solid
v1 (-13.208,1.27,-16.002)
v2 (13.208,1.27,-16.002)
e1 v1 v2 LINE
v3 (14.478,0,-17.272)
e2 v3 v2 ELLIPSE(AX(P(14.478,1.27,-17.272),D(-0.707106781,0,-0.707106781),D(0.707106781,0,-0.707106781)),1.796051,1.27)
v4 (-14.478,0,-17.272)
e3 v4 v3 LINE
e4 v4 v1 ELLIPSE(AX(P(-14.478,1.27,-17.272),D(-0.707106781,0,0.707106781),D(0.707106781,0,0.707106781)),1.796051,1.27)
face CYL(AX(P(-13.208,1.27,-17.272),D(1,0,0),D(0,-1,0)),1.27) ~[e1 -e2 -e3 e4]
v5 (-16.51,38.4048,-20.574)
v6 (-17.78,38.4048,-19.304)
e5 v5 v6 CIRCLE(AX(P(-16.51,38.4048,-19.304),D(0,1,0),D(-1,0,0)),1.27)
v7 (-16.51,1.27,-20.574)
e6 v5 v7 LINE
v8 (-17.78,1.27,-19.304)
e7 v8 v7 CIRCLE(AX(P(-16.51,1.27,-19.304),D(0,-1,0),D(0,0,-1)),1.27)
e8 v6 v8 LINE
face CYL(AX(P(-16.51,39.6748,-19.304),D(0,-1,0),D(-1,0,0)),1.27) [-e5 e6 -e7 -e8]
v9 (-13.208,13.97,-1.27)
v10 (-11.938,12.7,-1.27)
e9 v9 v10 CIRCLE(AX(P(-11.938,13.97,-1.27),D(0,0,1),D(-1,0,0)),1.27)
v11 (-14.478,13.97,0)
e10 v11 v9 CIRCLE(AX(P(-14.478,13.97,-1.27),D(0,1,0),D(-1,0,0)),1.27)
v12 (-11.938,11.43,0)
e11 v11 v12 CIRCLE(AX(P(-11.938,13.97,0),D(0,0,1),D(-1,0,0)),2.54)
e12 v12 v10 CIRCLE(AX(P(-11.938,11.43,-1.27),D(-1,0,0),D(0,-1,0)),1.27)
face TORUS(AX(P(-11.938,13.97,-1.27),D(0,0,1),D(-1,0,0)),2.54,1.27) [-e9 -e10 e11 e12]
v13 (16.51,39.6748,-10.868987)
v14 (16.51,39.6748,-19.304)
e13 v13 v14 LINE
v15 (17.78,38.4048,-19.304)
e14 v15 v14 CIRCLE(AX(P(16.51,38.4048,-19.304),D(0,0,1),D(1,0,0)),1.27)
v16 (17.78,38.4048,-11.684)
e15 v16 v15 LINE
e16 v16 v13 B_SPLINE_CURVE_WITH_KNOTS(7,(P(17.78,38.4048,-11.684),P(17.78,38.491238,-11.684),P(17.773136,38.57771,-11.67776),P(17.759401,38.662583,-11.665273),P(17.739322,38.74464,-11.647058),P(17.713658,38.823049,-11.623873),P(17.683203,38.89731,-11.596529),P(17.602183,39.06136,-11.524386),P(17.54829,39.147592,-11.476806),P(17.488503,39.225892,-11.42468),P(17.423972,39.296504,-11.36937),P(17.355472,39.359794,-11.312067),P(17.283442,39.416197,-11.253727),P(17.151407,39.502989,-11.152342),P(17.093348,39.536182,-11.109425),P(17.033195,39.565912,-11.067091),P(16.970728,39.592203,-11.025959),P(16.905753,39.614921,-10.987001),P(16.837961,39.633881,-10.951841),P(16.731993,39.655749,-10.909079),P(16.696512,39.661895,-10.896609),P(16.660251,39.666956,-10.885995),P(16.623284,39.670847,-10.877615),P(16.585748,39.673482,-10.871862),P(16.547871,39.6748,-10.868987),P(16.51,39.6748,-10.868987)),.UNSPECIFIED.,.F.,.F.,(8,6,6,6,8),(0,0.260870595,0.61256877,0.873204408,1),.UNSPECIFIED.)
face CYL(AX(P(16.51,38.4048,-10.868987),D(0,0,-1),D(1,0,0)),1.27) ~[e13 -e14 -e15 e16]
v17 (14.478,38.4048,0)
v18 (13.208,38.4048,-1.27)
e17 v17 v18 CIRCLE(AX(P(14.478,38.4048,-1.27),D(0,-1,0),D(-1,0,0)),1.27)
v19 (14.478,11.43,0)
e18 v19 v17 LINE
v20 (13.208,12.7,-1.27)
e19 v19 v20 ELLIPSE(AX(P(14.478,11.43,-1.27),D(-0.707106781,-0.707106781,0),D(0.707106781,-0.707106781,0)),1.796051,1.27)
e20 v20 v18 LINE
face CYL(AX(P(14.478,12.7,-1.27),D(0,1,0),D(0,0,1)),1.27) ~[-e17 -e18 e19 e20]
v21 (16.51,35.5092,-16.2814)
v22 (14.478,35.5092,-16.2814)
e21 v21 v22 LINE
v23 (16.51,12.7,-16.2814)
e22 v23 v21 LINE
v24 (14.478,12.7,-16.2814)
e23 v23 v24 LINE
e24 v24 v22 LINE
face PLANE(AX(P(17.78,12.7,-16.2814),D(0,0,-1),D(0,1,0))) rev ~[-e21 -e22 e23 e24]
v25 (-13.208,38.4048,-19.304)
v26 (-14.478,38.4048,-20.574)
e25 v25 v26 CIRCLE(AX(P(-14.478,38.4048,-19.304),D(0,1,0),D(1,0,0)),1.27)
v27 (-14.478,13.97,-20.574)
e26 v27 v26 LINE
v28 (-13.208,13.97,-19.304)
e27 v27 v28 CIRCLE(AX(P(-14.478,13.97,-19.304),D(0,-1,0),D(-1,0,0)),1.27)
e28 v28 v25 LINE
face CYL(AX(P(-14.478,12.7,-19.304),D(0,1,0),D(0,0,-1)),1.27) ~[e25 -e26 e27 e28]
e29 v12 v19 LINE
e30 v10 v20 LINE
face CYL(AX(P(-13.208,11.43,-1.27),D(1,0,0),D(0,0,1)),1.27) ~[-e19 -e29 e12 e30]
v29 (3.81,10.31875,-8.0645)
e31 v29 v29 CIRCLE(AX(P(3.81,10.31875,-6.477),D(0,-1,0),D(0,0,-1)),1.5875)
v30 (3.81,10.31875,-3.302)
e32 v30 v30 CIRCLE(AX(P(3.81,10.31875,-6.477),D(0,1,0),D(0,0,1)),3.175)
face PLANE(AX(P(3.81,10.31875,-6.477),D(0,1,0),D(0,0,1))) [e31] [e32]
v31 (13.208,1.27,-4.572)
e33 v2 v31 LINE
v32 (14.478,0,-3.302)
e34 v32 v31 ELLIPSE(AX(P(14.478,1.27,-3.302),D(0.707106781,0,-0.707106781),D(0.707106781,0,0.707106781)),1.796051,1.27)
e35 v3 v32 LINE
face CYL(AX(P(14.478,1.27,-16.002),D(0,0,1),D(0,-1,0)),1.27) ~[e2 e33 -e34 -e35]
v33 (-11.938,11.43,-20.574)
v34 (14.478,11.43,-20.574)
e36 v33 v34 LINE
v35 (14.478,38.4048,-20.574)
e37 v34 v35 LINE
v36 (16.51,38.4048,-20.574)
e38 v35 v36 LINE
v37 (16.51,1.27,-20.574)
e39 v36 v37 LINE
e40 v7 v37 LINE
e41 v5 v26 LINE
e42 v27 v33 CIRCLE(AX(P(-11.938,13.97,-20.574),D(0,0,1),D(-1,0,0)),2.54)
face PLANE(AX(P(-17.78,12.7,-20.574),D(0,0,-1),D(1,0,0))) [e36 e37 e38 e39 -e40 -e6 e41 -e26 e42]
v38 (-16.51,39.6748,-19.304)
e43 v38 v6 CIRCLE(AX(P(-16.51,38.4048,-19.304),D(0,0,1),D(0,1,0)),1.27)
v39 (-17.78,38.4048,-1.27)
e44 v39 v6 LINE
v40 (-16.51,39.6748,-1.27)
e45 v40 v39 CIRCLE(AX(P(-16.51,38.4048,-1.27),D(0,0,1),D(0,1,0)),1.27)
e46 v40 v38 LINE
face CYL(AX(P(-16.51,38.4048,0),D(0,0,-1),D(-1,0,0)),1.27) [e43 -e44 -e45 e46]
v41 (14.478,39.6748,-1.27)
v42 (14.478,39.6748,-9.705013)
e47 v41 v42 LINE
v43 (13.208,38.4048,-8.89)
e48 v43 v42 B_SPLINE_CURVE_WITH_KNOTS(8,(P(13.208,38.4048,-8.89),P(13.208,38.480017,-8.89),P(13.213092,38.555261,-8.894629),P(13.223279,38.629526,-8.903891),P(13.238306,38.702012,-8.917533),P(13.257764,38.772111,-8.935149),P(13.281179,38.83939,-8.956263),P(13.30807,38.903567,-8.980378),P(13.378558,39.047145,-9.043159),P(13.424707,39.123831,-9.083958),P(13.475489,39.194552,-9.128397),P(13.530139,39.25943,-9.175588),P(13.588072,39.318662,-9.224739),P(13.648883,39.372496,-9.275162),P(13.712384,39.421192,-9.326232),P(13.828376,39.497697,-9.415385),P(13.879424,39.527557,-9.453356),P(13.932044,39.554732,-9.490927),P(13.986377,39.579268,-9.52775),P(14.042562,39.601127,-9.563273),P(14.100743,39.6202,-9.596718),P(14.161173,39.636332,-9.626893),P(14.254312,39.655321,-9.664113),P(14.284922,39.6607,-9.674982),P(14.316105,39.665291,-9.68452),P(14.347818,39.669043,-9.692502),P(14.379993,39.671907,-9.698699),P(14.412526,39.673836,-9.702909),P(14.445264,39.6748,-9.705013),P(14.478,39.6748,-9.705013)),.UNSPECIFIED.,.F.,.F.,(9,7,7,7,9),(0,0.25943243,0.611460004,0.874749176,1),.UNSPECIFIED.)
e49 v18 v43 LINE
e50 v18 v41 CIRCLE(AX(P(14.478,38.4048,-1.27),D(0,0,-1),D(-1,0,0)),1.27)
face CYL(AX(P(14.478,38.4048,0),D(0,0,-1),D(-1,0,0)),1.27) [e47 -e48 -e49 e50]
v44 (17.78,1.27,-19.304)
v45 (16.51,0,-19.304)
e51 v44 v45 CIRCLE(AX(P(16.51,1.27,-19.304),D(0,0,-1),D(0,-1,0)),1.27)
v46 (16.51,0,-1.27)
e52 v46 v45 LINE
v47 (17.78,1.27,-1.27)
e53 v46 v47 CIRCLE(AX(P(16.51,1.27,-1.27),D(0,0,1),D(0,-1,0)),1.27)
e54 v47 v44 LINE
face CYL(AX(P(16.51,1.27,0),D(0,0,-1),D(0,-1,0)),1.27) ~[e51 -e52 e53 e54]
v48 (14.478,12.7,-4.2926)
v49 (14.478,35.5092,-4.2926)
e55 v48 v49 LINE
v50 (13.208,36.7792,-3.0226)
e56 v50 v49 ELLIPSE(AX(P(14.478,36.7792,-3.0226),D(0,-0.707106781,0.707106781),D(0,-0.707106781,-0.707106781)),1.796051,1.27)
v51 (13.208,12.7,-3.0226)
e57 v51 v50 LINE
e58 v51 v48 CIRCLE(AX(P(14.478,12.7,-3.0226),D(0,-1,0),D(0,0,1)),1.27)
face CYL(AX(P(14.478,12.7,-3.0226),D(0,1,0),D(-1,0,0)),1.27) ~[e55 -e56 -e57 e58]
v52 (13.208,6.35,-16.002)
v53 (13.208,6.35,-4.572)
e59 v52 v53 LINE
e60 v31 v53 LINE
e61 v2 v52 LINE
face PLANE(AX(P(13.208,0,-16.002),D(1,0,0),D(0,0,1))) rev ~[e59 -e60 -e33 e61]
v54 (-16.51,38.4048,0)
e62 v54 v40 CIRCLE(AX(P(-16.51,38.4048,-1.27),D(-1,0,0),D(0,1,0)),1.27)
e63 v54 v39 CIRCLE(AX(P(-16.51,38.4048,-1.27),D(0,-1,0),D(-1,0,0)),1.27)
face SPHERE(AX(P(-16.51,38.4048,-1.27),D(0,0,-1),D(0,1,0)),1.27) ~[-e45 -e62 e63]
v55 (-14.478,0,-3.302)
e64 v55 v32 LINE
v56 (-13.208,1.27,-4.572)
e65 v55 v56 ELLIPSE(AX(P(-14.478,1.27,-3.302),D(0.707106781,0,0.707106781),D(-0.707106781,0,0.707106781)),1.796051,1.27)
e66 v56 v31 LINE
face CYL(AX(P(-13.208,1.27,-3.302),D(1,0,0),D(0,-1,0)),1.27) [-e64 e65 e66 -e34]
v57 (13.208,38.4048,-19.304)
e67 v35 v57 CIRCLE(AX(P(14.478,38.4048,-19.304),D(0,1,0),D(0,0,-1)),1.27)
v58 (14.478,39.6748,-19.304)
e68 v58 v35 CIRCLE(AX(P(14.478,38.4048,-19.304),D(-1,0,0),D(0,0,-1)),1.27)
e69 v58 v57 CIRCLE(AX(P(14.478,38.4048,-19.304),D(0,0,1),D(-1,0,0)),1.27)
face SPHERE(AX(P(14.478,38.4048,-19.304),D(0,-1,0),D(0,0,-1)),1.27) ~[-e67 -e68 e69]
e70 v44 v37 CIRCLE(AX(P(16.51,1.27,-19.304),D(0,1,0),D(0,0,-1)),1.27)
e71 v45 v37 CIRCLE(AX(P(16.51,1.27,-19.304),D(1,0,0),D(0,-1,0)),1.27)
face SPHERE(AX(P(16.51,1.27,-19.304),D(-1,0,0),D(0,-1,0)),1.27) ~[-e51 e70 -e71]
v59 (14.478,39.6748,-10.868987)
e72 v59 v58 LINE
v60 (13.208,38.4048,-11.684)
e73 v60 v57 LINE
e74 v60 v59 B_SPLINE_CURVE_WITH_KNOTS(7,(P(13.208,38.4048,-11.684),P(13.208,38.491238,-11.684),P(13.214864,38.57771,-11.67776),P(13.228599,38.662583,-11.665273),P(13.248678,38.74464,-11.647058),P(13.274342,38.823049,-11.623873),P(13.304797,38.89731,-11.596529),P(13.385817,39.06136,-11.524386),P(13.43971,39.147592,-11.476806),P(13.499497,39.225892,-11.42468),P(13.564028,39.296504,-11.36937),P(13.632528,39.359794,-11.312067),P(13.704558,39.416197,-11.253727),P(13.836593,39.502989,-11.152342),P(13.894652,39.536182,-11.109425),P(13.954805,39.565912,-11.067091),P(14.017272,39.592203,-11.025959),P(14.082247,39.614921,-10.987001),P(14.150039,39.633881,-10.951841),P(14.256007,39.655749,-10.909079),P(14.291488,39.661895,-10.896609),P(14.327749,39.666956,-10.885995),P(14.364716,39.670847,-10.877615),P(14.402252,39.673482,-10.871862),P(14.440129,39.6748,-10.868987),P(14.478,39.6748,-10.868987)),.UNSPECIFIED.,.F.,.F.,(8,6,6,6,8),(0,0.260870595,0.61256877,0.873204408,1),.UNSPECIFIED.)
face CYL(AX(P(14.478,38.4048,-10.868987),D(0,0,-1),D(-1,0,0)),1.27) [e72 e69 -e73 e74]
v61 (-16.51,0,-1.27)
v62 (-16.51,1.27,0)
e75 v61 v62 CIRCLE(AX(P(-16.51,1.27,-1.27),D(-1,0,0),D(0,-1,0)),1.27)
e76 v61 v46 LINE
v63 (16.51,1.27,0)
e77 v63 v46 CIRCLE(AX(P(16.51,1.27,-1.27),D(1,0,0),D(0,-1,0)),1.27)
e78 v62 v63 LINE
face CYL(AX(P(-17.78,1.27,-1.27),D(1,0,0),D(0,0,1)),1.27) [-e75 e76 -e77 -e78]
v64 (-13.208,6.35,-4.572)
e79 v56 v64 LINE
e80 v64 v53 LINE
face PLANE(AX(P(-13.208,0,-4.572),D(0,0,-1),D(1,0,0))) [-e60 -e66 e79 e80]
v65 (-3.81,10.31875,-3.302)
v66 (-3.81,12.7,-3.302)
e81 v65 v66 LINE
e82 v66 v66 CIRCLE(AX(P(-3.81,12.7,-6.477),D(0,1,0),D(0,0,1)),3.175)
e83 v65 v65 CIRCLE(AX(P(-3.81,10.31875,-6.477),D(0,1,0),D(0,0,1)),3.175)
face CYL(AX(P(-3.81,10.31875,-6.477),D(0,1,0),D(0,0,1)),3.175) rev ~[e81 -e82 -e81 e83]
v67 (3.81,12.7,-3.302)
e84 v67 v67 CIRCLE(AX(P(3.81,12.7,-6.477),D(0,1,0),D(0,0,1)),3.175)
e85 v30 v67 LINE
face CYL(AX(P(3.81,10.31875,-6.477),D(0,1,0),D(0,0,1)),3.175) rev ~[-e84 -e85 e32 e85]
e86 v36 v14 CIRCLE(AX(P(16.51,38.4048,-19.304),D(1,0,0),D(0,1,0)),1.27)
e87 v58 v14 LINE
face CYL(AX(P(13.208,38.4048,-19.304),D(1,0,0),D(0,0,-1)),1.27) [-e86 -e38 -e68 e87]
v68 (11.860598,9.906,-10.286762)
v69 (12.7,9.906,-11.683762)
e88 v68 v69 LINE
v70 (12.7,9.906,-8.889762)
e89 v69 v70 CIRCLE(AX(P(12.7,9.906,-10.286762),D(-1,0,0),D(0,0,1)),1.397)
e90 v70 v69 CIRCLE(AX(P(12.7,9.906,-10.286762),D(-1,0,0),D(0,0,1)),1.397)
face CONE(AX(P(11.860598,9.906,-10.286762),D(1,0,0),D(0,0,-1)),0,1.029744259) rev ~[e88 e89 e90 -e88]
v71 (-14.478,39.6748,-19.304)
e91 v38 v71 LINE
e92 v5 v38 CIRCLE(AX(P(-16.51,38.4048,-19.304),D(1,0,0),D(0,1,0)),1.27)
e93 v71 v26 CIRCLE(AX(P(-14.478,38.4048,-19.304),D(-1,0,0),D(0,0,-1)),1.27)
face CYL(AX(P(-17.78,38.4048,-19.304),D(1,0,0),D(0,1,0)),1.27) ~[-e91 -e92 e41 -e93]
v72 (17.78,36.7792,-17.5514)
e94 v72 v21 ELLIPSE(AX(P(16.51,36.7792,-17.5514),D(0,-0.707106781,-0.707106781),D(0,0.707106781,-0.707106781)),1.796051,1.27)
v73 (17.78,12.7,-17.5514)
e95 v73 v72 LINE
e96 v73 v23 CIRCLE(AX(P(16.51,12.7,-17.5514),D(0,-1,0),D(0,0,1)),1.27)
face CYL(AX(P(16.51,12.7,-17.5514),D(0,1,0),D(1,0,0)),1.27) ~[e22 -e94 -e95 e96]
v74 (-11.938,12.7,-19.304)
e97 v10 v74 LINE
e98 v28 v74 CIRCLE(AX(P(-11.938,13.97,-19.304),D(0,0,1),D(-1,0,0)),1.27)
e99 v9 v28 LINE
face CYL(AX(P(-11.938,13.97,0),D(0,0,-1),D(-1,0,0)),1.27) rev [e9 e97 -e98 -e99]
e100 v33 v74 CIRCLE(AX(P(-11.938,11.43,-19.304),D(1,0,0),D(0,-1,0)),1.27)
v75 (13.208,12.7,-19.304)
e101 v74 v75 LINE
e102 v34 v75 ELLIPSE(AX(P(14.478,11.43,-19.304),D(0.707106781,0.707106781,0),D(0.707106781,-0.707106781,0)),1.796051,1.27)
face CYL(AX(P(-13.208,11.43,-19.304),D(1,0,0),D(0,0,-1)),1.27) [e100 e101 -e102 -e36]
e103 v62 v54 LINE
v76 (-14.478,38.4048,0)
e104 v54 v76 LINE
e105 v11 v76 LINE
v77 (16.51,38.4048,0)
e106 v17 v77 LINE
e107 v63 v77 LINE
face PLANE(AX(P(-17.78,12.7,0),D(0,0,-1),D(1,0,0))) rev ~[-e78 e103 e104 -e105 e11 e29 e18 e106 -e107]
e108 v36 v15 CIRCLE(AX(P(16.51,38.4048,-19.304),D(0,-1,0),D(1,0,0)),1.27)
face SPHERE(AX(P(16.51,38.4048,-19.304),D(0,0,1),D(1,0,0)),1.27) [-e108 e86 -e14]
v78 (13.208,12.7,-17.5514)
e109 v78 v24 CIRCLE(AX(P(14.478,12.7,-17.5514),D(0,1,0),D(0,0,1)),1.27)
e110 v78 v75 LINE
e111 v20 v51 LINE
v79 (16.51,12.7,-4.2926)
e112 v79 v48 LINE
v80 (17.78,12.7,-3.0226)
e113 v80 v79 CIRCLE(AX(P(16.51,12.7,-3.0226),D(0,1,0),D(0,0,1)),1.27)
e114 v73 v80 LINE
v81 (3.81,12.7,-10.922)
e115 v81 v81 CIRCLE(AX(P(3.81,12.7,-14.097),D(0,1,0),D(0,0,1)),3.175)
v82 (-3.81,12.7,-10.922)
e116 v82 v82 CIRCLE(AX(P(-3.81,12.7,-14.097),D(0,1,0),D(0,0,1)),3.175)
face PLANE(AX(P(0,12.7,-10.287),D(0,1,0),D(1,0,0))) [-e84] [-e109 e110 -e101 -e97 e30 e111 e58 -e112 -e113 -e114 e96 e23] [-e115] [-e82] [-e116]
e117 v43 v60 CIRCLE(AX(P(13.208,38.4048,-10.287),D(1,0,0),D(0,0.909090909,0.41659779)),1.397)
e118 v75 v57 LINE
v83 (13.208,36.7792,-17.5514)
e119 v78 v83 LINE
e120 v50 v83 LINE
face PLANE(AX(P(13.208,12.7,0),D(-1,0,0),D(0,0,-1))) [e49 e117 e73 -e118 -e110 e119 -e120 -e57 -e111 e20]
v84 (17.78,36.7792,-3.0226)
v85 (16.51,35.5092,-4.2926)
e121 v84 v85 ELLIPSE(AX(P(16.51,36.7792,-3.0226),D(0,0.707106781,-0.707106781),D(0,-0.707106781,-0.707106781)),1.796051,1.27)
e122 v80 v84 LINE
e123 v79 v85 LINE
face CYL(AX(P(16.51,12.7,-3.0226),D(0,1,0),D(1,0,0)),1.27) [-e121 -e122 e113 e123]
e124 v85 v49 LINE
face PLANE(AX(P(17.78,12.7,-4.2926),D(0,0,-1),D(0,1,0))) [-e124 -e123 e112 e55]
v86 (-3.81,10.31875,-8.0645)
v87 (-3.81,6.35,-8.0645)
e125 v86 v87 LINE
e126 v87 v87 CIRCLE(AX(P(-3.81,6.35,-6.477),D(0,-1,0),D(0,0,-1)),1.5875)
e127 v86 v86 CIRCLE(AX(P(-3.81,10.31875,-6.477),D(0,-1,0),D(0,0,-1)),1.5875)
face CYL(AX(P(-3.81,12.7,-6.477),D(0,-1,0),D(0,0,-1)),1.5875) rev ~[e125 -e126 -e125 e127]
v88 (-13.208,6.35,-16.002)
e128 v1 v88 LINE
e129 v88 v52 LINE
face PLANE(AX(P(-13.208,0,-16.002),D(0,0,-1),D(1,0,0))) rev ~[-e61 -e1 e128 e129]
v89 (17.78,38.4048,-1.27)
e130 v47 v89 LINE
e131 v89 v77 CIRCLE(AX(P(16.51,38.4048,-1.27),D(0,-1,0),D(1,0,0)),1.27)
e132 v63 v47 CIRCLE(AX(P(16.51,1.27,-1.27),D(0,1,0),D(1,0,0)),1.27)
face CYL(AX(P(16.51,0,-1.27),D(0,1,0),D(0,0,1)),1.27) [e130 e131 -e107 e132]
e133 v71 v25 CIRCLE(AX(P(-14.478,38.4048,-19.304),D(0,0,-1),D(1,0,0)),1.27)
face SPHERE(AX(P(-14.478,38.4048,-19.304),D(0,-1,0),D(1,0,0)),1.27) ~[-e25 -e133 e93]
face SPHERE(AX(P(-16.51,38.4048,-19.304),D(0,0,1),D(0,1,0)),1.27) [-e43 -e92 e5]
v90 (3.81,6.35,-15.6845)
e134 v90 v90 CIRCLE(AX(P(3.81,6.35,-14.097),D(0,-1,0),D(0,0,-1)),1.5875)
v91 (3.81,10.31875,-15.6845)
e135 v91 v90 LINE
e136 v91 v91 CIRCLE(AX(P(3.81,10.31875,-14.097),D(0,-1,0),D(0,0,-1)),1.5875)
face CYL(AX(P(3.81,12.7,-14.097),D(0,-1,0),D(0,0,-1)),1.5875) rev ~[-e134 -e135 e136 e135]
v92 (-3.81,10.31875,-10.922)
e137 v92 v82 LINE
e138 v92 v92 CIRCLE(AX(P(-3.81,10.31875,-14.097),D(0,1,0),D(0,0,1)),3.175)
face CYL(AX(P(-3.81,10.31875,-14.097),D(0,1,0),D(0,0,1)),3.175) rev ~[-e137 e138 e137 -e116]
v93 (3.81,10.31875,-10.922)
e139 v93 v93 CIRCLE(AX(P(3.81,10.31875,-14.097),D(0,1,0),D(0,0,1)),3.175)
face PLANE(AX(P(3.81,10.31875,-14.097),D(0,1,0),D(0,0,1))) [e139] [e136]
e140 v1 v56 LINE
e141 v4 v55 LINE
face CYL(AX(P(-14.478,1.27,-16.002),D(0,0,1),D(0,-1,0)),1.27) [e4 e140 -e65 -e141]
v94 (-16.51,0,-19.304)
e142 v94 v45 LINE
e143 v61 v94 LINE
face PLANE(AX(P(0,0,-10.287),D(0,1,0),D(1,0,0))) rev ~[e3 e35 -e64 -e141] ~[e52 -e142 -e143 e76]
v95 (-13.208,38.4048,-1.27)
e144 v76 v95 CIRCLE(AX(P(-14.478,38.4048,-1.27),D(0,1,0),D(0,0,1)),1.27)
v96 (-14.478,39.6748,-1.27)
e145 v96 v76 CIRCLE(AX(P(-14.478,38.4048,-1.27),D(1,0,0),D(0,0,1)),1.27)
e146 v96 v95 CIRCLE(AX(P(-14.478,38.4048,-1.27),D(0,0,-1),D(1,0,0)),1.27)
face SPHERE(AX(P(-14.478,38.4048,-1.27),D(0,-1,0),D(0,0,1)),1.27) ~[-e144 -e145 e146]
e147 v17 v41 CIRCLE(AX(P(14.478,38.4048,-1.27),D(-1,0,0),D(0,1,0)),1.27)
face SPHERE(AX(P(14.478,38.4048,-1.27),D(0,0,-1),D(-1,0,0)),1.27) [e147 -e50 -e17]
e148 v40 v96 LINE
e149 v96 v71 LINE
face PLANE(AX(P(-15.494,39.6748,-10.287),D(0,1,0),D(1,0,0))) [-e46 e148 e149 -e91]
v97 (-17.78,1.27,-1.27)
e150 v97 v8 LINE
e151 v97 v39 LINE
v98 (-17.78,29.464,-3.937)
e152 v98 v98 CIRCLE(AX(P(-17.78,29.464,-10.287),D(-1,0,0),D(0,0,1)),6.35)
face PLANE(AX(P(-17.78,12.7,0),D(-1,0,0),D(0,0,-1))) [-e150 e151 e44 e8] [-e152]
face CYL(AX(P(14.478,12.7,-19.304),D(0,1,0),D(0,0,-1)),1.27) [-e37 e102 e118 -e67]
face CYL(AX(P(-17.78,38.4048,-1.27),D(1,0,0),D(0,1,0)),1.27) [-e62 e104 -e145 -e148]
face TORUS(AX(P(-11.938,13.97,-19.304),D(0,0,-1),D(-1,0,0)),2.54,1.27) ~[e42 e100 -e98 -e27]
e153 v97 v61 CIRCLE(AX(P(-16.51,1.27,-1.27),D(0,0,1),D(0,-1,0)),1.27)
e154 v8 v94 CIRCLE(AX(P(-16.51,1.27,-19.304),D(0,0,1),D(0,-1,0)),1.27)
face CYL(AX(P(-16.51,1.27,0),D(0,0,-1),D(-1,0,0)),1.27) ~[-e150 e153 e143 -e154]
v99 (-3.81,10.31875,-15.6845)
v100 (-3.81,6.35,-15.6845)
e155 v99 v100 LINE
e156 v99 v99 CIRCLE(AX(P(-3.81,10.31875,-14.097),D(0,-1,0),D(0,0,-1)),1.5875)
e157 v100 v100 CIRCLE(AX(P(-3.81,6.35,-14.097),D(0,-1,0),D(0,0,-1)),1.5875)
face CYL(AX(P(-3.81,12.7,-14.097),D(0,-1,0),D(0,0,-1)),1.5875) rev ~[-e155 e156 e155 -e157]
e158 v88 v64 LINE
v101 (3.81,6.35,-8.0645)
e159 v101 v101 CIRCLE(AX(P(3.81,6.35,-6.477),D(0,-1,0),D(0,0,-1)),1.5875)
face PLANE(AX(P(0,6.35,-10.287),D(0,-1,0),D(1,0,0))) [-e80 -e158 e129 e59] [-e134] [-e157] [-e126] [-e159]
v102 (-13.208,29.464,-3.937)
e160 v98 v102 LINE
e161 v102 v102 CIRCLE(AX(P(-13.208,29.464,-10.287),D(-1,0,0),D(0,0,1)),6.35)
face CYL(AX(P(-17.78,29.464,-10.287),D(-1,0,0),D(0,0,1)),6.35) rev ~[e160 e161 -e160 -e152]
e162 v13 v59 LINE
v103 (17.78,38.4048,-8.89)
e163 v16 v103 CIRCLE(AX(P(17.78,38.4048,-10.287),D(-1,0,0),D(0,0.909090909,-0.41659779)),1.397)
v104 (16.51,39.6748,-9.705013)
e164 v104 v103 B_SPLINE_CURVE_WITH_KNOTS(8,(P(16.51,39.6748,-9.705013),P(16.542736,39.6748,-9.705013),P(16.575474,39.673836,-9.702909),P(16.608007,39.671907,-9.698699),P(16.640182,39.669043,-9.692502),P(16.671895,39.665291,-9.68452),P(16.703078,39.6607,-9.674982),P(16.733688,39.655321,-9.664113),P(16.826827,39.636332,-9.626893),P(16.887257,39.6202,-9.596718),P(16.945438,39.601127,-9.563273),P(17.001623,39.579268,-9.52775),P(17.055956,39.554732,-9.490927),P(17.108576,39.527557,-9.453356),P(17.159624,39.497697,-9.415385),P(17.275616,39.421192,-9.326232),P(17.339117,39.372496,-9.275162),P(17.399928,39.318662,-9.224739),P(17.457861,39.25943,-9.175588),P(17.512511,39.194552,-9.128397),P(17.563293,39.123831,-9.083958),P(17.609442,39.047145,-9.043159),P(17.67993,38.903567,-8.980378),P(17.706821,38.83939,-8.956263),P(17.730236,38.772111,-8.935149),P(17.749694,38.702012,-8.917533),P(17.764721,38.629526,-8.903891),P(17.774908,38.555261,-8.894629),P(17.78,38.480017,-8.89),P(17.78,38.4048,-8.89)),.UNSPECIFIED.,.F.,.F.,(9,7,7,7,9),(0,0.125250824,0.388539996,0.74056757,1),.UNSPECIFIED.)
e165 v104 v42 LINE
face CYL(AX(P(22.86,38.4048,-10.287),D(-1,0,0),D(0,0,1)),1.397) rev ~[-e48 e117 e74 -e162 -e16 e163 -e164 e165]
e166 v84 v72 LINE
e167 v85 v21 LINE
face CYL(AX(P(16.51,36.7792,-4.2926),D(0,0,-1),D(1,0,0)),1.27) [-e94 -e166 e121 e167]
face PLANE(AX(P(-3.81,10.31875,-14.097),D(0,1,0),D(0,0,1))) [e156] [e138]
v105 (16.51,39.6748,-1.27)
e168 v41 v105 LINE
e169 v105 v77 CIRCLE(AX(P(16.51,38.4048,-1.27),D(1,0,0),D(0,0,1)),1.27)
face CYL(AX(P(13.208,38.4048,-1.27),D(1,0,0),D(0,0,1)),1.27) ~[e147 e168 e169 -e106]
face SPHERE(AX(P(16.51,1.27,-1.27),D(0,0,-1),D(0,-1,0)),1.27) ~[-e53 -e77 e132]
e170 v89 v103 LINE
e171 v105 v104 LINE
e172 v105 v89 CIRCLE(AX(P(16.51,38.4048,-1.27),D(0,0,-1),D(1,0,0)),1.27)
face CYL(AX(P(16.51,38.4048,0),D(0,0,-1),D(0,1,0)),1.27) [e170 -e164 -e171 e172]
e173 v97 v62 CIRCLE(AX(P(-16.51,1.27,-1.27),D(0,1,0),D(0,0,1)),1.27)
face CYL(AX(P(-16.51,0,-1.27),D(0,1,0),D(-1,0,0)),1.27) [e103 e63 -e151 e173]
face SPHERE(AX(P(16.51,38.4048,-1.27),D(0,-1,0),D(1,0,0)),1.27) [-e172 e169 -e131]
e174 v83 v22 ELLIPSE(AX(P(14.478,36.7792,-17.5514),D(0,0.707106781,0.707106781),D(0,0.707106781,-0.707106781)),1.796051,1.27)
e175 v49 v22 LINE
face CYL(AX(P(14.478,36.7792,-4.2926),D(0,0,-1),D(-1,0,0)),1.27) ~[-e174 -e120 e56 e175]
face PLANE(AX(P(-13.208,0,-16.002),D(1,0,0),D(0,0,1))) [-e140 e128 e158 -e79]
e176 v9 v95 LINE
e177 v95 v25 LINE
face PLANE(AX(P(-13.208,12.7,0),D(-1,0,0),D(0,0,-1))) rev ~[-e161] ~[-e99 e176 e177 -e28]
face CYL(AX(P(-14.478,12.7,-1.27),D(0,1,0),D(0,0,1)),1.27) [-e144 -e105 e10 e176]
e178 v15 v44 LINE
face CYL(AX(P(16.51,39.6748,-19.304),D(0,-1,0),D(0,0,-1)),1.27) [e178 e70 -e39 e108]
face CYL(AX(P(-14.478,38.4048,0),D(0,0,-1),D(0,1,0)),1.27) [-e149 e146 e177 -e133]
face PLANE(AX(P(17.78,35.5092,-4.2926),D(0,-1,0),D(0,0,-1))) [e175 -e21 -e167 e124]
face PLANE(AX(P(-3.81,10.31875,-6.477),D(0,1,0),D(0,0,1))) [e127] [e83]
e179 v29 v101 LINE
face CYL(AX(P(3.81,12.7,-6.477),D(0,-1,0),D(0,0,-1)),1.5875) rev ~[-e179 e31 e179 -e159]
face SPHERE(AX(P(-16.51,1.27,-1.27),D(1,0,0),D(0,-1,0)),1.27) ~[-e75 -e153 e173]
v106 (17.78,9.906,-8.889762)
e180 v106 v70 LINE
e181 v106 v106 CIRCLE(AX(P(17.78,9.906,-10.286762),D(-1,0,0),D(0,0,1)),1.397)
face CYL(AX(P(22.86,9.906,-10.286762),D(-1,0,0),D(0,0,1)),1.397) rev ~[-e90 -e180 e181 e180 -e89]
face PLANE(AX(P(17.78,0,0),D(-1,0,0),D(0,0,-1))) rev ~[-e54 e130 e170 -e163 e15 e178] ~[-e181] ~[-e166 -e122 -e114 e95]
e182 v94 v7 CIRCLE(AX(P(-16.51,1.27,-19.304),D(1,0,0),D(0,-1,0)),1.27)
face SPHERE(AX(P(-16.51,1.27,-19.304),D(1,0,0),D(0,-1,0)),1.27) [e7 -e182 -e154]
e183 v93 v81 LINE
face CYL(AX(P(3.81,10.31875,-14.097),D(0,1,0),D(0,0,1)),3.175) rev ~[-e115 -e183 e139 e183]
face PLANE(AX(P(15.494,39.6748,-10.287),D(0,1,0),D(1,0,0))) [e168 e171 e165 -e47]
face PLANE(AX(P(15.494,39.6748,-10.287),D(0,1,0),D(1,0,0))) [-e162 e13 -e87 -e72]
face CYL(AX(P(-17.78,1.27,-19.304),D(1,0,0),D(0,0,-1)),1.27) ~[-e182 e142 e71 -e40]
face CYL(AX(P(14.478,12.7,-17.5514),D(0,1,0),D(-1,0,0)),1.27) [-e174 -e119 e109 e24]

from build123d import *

# Parameters (mm, degrees)
SKETCH1_W                                            = 35.56
SKETCH1_H                                            = 20.574
BOSS_EXTRUDE1_DEPTH                                  = 12.7
SKETCH2_W                                            = 26.416
SKETCH2_H                                            = 11.43
CUT_EXTRUDE1_DEPTH                                   = 6.35
CBORE_FOR_5_16_TRUSS_HEAD_SCREW1_D                   = 3.175
CBORE_FOR_5_16_TRUSS_HEAD_SCREW1_DEPTH               = 7.9375
CBORE_FOR_5_16_TRUSS_HEAD_SCREW1_CBORE_D             = 6.35
CBORE_FOR_5_16_TRUSS_HEAD_SCREW1_CBORE_DEPTH         = 2.38125
CBORE_FOR_5_16_TRUSS_HEAD_SCREW1_TIP                 = 0.953866233
CBORE_FOR_5_16_TRUSS_HEAD_SCREW1_ON_FACE_D           = 3.175
CBORE_FOR_5_16_TRUSS_HEAD_SCREW1_ON_FACE_DEPTH       = 7.9375
CBORE_FOR_5_16_TRUSS_HEAD_SCREW1_ON_FACE_CBORE_D     = 6.35
CBORE_FOR_5_16_TRUSS_HEAD_SCREW1_ON_FACE_CBORE_DEPTH = 2.38125
CBORE_FOR_5_16_TRUSS_HEAD_SCREW1_ON_FACE_TIP         = 0.953866233
SKETCH5_W                                            = 4.572
SKETCH5_H                                            = 20.574
BOSS_EXTRUDE2_DEPTH                                  = 26.9748
CUT_EXTRUDE2_REACH                                   = 59.113
SKETCH7_W                                            = 11.9888
SKETCH7_H                                            = 22.8092
F_60_0_04_DIAMETER_HOLE1_D                           = 2.794
F_60_0_04_DIAMETER_HOLE1_DEPTH                       = 5.08
F_60_0_04_DIAMETER_HOLE1_TIP                         = 0.839402285
CUT_EXTRUDE3_REACH                                   = 59.113
SKETCH10_R                                           = 6.35
FILLET1_R                                            = 1.27


with BuildPart() as part:
    # Sketch1 → Boss-Extrude1 (new body)
    with BuildSketch(Plane(origin=(0, 0, 0), x_dir=(1, 0, 0), z_dir=(0, 1, 0))):
        with Locations((0, 10.287)):
            Rectangle(SKETCH1_W, SKETCH1_H)
    extrude(amount=BOSS_EXTRUDE1_DEPTH)

    # Sketch2 → Cut-Extrude1 (cut)
    with BuildSketch(Plane.XZ):
        with Locations((0, -10.287)):
            Rectangle(SKETCH2_W, SKETCH2_H)
    extrude(amount=-CUT_EXTRUDE1_DEPTH, mode=Mode.SUBTRACT)

    # CBORE for 5/16 Truss Head Screw1
    with Locations(Plane(origin=(-3.81, 12.7, -14.097), x_dir=(0, 0, 1), z_dir=(0, 1, 0))):
        with Locations((0, 0), (0, 7.62), (7.62, 0), (7.62, 7.62)):
            CounterBoreHole(CBORE_FOR_5_16_TRUSS_HEAD_SCREW1_D / 2, CBORE_FOR_5_16_TRUSS_HEAD_SCREW1_CBORE_D / 2, CBORE_FOR_5_16_TRUSS_HEAD_SCREW1_CBORE_DEPTH, depth=CBORE_FOR_5_16_TRUSS_HEAD_SCREW1_DEPTH)
            with Locations((0, 0, -(CBORE_FOR_5_16_TRUSS_HEAD_SCREW1_DEPTH + CBORE_FOR_5_16_TRUSS_HEAD_SCREW1_TIP / 2))):  # 118° drill point
                Cone(0, CBORE_FOR_5_16_TRUSS_HEAD_SCREW1_D / 2, CBORE_FOR_5_16_TRUSS_HEAD_SCREW1_TIP, mode=Mode.SUBTRACT)

    # CBORE for 5/16 Truss Head Screw1 on face
    with Locations(Plane(origin=(-4.806161328, 124.310596627, 0), x_dir=(0, 0, 1), z_dir=(0, 1, 0))):
        with Locations((0, 0)):
            CounterBoreHole(CBORE_FOR_5_16_TRUSS_HEAD_SCREW1_ON_FACE_D / 2, CBORE_FOR_5_16_TRUSS_HEAD_SCREW1_ON_FACE_CBORE_D / 2, CBORE_FOR_5_16_TRUSS_HEAD_SCREW1_ON_FACE_CBORE_DEPTH, depth=CBORE_FOR_5_16_TRUSS_HEAD_SCREW1_ON_FACE_DEPTH)
            with Locations((0, 0, -(CBORE_FOR_5_16_TRUSS_HEAD_SCREW1_ON_FACE_DEPTH + CBORE_FOR_5_16_TRUSS_HEAD_SCREW1_ON_FACE_TIP / 2))):  # 118° drill point
                Cone(0, CBORE_FOR_5_16_TRUSS_HEAD_SCREW1_ON_FACE_D / 2, CBORE_FOR_5_16_TRUSS_HEAD_SCREW1_ON_FACE_TIP, mode=Mode.SUBTRACT)

    # Sketch5 → Boss-Extrude2 (add)
    with BuildSketch(Plane(origin=(0, 12.7, 0), x_dir=(1, 0, 0), z_dir=(0, 1, 0))):
        with Locations((-15.494, 10.287)):
            Rectangle(SKETCH5_W, SKETCH5_H)
        with Locations((15.494, 10.287)):
            Rectangle(SKETCH5_W, SKETCH5_H)
    extrude(amount=BOSS_EXTRUDE2_DEPTH)

    # Sketch7 → Cut-Extrude2 (cut, up to next)
    with BuildSketch(Plane(origin=(17.78, 0, 0), x_dir=(0, 0, -1), z_dir=(1, 0, 0)), mode=Mode.PRIVATE) as cut_extrude2_sk1:
        with Locations((10.287, 24.1046)):
            Rectangle(SKETCH7_W, SKETCH7_H)
    cut_extrude2_tool1 = extrude(cut_extrude2_sk1.sketch, amount=-CUT_EXTRUDE2_REACH, mode=Mode.PRIVATE) & part.part
    add(cut_extrude2_tool1.solids().sort_by_distance((17.78, 24.1046, -10.287))[0], mode=Mode.SUBTRACT)

    # #60 (0.04) Diameter Hole1
    with Locations(Plane(origin=(17.78, 0, 0), x_dir=(0, 0, -1), z_dir=(1, 0, 0))):
        with Locations((10.287, 38.4048), (10.286762393, 9.906)):
            Hole(F_60_0_04_DIAMETER_HOLE1_D / 2, depth=F_60_0_04_DIAMETER_HOLE1_DEPTH)
            with Locations((0, 0, -(F_60_0_04_DIAMETER_HOLE1_DEPTH + F_60_0_04_DIAMETER_HOLE1_TIP / 2))):  # 118° drill point
                Cone(0, F_60_0_04_DIAMETER_HOLE1_D / 2, F_60_0_04_DIAMETER_HOLE1_TIP, mode=Mode.SUBTRACT)

    # Sketch10 → Cut-Extrude3 (cut, up to next)
    with BuildSketch(Plane.ZY.offset(17.78), mode=Mode.PRIVATE) as cut_extrude3_sk1:
        with Locations((-10.287, 29.464)):
            Circle(SKETCH10_R)
    cut_extrude3_tool1 = extrude(cut_extrude3_sk1.sketch, amount=-CUT_EXTRUDE3_REACH, mode=Mode.PRIVATE) & part.part
    add(cut_extrude3_tool1.solids().sort_by_distance((-17.78, 29.464, -10.287))[0], mode=Mode.SUBTRACT)

    # Fillet1
    fillet1_edges = [part.edges().sort_by_distance(p)[0] for p in [
        (17.78, 39.6748, -15.721493557),
        (13.208, 39.6748, -4.852506443),
        (-13.208, 0, -10.287),
        (0, 0, -16.002),
        (13.208, 0, -10.287),
        (0, 0, -4.572),
        (0, 0, -20.574),
        (17.78, 0, -10.287),
        (0, 0, 0),
        (-17.78, 0, -10.287),
        (0, 12.7, 0),
        (-13.208, 12.7, -10.287),
        (-13.208, 26.1874, 0),
        (-13.208, 26.1874, -20.574),
        (-17.78, 39.6748, -10.287),
        (-15.494, 39.6748, 0),
        (-13.208, 39.6748, -10.287),
        (-15.494, 39.6748, -20.574),
        (0, 12.7, -20.574),
        (-17.78, 19.8374, -20.574),
        (17.78, 19.8374, -20.574),
        (13.208, 26.1874, -20.574),
        (17.78, 19.8374, 0),
        (13.208, 26.1874, 0),
        (17.78, 39.6748, -4.852506443),
        (15.494, 39.6748, -20.574),
        (13.208, 39.6748, -15.721493557),
        (-17.78, 19.8374, 0),
        (15.494, 39.6748, 0),
        (13.208, 35.5092, -10.287),
        (13.208, 24.1046, -16.2814),
        (13.208, 24.1046, -4.2926),
        (17.78, 24.1046, -16.2814),
        (17.78, 35.5092, -10.287),
        (17.78, 24.1046, -4.2926),
    ]]
    fillet(fillet1_edges, radius=FILLET1_R)


solid = part.part
